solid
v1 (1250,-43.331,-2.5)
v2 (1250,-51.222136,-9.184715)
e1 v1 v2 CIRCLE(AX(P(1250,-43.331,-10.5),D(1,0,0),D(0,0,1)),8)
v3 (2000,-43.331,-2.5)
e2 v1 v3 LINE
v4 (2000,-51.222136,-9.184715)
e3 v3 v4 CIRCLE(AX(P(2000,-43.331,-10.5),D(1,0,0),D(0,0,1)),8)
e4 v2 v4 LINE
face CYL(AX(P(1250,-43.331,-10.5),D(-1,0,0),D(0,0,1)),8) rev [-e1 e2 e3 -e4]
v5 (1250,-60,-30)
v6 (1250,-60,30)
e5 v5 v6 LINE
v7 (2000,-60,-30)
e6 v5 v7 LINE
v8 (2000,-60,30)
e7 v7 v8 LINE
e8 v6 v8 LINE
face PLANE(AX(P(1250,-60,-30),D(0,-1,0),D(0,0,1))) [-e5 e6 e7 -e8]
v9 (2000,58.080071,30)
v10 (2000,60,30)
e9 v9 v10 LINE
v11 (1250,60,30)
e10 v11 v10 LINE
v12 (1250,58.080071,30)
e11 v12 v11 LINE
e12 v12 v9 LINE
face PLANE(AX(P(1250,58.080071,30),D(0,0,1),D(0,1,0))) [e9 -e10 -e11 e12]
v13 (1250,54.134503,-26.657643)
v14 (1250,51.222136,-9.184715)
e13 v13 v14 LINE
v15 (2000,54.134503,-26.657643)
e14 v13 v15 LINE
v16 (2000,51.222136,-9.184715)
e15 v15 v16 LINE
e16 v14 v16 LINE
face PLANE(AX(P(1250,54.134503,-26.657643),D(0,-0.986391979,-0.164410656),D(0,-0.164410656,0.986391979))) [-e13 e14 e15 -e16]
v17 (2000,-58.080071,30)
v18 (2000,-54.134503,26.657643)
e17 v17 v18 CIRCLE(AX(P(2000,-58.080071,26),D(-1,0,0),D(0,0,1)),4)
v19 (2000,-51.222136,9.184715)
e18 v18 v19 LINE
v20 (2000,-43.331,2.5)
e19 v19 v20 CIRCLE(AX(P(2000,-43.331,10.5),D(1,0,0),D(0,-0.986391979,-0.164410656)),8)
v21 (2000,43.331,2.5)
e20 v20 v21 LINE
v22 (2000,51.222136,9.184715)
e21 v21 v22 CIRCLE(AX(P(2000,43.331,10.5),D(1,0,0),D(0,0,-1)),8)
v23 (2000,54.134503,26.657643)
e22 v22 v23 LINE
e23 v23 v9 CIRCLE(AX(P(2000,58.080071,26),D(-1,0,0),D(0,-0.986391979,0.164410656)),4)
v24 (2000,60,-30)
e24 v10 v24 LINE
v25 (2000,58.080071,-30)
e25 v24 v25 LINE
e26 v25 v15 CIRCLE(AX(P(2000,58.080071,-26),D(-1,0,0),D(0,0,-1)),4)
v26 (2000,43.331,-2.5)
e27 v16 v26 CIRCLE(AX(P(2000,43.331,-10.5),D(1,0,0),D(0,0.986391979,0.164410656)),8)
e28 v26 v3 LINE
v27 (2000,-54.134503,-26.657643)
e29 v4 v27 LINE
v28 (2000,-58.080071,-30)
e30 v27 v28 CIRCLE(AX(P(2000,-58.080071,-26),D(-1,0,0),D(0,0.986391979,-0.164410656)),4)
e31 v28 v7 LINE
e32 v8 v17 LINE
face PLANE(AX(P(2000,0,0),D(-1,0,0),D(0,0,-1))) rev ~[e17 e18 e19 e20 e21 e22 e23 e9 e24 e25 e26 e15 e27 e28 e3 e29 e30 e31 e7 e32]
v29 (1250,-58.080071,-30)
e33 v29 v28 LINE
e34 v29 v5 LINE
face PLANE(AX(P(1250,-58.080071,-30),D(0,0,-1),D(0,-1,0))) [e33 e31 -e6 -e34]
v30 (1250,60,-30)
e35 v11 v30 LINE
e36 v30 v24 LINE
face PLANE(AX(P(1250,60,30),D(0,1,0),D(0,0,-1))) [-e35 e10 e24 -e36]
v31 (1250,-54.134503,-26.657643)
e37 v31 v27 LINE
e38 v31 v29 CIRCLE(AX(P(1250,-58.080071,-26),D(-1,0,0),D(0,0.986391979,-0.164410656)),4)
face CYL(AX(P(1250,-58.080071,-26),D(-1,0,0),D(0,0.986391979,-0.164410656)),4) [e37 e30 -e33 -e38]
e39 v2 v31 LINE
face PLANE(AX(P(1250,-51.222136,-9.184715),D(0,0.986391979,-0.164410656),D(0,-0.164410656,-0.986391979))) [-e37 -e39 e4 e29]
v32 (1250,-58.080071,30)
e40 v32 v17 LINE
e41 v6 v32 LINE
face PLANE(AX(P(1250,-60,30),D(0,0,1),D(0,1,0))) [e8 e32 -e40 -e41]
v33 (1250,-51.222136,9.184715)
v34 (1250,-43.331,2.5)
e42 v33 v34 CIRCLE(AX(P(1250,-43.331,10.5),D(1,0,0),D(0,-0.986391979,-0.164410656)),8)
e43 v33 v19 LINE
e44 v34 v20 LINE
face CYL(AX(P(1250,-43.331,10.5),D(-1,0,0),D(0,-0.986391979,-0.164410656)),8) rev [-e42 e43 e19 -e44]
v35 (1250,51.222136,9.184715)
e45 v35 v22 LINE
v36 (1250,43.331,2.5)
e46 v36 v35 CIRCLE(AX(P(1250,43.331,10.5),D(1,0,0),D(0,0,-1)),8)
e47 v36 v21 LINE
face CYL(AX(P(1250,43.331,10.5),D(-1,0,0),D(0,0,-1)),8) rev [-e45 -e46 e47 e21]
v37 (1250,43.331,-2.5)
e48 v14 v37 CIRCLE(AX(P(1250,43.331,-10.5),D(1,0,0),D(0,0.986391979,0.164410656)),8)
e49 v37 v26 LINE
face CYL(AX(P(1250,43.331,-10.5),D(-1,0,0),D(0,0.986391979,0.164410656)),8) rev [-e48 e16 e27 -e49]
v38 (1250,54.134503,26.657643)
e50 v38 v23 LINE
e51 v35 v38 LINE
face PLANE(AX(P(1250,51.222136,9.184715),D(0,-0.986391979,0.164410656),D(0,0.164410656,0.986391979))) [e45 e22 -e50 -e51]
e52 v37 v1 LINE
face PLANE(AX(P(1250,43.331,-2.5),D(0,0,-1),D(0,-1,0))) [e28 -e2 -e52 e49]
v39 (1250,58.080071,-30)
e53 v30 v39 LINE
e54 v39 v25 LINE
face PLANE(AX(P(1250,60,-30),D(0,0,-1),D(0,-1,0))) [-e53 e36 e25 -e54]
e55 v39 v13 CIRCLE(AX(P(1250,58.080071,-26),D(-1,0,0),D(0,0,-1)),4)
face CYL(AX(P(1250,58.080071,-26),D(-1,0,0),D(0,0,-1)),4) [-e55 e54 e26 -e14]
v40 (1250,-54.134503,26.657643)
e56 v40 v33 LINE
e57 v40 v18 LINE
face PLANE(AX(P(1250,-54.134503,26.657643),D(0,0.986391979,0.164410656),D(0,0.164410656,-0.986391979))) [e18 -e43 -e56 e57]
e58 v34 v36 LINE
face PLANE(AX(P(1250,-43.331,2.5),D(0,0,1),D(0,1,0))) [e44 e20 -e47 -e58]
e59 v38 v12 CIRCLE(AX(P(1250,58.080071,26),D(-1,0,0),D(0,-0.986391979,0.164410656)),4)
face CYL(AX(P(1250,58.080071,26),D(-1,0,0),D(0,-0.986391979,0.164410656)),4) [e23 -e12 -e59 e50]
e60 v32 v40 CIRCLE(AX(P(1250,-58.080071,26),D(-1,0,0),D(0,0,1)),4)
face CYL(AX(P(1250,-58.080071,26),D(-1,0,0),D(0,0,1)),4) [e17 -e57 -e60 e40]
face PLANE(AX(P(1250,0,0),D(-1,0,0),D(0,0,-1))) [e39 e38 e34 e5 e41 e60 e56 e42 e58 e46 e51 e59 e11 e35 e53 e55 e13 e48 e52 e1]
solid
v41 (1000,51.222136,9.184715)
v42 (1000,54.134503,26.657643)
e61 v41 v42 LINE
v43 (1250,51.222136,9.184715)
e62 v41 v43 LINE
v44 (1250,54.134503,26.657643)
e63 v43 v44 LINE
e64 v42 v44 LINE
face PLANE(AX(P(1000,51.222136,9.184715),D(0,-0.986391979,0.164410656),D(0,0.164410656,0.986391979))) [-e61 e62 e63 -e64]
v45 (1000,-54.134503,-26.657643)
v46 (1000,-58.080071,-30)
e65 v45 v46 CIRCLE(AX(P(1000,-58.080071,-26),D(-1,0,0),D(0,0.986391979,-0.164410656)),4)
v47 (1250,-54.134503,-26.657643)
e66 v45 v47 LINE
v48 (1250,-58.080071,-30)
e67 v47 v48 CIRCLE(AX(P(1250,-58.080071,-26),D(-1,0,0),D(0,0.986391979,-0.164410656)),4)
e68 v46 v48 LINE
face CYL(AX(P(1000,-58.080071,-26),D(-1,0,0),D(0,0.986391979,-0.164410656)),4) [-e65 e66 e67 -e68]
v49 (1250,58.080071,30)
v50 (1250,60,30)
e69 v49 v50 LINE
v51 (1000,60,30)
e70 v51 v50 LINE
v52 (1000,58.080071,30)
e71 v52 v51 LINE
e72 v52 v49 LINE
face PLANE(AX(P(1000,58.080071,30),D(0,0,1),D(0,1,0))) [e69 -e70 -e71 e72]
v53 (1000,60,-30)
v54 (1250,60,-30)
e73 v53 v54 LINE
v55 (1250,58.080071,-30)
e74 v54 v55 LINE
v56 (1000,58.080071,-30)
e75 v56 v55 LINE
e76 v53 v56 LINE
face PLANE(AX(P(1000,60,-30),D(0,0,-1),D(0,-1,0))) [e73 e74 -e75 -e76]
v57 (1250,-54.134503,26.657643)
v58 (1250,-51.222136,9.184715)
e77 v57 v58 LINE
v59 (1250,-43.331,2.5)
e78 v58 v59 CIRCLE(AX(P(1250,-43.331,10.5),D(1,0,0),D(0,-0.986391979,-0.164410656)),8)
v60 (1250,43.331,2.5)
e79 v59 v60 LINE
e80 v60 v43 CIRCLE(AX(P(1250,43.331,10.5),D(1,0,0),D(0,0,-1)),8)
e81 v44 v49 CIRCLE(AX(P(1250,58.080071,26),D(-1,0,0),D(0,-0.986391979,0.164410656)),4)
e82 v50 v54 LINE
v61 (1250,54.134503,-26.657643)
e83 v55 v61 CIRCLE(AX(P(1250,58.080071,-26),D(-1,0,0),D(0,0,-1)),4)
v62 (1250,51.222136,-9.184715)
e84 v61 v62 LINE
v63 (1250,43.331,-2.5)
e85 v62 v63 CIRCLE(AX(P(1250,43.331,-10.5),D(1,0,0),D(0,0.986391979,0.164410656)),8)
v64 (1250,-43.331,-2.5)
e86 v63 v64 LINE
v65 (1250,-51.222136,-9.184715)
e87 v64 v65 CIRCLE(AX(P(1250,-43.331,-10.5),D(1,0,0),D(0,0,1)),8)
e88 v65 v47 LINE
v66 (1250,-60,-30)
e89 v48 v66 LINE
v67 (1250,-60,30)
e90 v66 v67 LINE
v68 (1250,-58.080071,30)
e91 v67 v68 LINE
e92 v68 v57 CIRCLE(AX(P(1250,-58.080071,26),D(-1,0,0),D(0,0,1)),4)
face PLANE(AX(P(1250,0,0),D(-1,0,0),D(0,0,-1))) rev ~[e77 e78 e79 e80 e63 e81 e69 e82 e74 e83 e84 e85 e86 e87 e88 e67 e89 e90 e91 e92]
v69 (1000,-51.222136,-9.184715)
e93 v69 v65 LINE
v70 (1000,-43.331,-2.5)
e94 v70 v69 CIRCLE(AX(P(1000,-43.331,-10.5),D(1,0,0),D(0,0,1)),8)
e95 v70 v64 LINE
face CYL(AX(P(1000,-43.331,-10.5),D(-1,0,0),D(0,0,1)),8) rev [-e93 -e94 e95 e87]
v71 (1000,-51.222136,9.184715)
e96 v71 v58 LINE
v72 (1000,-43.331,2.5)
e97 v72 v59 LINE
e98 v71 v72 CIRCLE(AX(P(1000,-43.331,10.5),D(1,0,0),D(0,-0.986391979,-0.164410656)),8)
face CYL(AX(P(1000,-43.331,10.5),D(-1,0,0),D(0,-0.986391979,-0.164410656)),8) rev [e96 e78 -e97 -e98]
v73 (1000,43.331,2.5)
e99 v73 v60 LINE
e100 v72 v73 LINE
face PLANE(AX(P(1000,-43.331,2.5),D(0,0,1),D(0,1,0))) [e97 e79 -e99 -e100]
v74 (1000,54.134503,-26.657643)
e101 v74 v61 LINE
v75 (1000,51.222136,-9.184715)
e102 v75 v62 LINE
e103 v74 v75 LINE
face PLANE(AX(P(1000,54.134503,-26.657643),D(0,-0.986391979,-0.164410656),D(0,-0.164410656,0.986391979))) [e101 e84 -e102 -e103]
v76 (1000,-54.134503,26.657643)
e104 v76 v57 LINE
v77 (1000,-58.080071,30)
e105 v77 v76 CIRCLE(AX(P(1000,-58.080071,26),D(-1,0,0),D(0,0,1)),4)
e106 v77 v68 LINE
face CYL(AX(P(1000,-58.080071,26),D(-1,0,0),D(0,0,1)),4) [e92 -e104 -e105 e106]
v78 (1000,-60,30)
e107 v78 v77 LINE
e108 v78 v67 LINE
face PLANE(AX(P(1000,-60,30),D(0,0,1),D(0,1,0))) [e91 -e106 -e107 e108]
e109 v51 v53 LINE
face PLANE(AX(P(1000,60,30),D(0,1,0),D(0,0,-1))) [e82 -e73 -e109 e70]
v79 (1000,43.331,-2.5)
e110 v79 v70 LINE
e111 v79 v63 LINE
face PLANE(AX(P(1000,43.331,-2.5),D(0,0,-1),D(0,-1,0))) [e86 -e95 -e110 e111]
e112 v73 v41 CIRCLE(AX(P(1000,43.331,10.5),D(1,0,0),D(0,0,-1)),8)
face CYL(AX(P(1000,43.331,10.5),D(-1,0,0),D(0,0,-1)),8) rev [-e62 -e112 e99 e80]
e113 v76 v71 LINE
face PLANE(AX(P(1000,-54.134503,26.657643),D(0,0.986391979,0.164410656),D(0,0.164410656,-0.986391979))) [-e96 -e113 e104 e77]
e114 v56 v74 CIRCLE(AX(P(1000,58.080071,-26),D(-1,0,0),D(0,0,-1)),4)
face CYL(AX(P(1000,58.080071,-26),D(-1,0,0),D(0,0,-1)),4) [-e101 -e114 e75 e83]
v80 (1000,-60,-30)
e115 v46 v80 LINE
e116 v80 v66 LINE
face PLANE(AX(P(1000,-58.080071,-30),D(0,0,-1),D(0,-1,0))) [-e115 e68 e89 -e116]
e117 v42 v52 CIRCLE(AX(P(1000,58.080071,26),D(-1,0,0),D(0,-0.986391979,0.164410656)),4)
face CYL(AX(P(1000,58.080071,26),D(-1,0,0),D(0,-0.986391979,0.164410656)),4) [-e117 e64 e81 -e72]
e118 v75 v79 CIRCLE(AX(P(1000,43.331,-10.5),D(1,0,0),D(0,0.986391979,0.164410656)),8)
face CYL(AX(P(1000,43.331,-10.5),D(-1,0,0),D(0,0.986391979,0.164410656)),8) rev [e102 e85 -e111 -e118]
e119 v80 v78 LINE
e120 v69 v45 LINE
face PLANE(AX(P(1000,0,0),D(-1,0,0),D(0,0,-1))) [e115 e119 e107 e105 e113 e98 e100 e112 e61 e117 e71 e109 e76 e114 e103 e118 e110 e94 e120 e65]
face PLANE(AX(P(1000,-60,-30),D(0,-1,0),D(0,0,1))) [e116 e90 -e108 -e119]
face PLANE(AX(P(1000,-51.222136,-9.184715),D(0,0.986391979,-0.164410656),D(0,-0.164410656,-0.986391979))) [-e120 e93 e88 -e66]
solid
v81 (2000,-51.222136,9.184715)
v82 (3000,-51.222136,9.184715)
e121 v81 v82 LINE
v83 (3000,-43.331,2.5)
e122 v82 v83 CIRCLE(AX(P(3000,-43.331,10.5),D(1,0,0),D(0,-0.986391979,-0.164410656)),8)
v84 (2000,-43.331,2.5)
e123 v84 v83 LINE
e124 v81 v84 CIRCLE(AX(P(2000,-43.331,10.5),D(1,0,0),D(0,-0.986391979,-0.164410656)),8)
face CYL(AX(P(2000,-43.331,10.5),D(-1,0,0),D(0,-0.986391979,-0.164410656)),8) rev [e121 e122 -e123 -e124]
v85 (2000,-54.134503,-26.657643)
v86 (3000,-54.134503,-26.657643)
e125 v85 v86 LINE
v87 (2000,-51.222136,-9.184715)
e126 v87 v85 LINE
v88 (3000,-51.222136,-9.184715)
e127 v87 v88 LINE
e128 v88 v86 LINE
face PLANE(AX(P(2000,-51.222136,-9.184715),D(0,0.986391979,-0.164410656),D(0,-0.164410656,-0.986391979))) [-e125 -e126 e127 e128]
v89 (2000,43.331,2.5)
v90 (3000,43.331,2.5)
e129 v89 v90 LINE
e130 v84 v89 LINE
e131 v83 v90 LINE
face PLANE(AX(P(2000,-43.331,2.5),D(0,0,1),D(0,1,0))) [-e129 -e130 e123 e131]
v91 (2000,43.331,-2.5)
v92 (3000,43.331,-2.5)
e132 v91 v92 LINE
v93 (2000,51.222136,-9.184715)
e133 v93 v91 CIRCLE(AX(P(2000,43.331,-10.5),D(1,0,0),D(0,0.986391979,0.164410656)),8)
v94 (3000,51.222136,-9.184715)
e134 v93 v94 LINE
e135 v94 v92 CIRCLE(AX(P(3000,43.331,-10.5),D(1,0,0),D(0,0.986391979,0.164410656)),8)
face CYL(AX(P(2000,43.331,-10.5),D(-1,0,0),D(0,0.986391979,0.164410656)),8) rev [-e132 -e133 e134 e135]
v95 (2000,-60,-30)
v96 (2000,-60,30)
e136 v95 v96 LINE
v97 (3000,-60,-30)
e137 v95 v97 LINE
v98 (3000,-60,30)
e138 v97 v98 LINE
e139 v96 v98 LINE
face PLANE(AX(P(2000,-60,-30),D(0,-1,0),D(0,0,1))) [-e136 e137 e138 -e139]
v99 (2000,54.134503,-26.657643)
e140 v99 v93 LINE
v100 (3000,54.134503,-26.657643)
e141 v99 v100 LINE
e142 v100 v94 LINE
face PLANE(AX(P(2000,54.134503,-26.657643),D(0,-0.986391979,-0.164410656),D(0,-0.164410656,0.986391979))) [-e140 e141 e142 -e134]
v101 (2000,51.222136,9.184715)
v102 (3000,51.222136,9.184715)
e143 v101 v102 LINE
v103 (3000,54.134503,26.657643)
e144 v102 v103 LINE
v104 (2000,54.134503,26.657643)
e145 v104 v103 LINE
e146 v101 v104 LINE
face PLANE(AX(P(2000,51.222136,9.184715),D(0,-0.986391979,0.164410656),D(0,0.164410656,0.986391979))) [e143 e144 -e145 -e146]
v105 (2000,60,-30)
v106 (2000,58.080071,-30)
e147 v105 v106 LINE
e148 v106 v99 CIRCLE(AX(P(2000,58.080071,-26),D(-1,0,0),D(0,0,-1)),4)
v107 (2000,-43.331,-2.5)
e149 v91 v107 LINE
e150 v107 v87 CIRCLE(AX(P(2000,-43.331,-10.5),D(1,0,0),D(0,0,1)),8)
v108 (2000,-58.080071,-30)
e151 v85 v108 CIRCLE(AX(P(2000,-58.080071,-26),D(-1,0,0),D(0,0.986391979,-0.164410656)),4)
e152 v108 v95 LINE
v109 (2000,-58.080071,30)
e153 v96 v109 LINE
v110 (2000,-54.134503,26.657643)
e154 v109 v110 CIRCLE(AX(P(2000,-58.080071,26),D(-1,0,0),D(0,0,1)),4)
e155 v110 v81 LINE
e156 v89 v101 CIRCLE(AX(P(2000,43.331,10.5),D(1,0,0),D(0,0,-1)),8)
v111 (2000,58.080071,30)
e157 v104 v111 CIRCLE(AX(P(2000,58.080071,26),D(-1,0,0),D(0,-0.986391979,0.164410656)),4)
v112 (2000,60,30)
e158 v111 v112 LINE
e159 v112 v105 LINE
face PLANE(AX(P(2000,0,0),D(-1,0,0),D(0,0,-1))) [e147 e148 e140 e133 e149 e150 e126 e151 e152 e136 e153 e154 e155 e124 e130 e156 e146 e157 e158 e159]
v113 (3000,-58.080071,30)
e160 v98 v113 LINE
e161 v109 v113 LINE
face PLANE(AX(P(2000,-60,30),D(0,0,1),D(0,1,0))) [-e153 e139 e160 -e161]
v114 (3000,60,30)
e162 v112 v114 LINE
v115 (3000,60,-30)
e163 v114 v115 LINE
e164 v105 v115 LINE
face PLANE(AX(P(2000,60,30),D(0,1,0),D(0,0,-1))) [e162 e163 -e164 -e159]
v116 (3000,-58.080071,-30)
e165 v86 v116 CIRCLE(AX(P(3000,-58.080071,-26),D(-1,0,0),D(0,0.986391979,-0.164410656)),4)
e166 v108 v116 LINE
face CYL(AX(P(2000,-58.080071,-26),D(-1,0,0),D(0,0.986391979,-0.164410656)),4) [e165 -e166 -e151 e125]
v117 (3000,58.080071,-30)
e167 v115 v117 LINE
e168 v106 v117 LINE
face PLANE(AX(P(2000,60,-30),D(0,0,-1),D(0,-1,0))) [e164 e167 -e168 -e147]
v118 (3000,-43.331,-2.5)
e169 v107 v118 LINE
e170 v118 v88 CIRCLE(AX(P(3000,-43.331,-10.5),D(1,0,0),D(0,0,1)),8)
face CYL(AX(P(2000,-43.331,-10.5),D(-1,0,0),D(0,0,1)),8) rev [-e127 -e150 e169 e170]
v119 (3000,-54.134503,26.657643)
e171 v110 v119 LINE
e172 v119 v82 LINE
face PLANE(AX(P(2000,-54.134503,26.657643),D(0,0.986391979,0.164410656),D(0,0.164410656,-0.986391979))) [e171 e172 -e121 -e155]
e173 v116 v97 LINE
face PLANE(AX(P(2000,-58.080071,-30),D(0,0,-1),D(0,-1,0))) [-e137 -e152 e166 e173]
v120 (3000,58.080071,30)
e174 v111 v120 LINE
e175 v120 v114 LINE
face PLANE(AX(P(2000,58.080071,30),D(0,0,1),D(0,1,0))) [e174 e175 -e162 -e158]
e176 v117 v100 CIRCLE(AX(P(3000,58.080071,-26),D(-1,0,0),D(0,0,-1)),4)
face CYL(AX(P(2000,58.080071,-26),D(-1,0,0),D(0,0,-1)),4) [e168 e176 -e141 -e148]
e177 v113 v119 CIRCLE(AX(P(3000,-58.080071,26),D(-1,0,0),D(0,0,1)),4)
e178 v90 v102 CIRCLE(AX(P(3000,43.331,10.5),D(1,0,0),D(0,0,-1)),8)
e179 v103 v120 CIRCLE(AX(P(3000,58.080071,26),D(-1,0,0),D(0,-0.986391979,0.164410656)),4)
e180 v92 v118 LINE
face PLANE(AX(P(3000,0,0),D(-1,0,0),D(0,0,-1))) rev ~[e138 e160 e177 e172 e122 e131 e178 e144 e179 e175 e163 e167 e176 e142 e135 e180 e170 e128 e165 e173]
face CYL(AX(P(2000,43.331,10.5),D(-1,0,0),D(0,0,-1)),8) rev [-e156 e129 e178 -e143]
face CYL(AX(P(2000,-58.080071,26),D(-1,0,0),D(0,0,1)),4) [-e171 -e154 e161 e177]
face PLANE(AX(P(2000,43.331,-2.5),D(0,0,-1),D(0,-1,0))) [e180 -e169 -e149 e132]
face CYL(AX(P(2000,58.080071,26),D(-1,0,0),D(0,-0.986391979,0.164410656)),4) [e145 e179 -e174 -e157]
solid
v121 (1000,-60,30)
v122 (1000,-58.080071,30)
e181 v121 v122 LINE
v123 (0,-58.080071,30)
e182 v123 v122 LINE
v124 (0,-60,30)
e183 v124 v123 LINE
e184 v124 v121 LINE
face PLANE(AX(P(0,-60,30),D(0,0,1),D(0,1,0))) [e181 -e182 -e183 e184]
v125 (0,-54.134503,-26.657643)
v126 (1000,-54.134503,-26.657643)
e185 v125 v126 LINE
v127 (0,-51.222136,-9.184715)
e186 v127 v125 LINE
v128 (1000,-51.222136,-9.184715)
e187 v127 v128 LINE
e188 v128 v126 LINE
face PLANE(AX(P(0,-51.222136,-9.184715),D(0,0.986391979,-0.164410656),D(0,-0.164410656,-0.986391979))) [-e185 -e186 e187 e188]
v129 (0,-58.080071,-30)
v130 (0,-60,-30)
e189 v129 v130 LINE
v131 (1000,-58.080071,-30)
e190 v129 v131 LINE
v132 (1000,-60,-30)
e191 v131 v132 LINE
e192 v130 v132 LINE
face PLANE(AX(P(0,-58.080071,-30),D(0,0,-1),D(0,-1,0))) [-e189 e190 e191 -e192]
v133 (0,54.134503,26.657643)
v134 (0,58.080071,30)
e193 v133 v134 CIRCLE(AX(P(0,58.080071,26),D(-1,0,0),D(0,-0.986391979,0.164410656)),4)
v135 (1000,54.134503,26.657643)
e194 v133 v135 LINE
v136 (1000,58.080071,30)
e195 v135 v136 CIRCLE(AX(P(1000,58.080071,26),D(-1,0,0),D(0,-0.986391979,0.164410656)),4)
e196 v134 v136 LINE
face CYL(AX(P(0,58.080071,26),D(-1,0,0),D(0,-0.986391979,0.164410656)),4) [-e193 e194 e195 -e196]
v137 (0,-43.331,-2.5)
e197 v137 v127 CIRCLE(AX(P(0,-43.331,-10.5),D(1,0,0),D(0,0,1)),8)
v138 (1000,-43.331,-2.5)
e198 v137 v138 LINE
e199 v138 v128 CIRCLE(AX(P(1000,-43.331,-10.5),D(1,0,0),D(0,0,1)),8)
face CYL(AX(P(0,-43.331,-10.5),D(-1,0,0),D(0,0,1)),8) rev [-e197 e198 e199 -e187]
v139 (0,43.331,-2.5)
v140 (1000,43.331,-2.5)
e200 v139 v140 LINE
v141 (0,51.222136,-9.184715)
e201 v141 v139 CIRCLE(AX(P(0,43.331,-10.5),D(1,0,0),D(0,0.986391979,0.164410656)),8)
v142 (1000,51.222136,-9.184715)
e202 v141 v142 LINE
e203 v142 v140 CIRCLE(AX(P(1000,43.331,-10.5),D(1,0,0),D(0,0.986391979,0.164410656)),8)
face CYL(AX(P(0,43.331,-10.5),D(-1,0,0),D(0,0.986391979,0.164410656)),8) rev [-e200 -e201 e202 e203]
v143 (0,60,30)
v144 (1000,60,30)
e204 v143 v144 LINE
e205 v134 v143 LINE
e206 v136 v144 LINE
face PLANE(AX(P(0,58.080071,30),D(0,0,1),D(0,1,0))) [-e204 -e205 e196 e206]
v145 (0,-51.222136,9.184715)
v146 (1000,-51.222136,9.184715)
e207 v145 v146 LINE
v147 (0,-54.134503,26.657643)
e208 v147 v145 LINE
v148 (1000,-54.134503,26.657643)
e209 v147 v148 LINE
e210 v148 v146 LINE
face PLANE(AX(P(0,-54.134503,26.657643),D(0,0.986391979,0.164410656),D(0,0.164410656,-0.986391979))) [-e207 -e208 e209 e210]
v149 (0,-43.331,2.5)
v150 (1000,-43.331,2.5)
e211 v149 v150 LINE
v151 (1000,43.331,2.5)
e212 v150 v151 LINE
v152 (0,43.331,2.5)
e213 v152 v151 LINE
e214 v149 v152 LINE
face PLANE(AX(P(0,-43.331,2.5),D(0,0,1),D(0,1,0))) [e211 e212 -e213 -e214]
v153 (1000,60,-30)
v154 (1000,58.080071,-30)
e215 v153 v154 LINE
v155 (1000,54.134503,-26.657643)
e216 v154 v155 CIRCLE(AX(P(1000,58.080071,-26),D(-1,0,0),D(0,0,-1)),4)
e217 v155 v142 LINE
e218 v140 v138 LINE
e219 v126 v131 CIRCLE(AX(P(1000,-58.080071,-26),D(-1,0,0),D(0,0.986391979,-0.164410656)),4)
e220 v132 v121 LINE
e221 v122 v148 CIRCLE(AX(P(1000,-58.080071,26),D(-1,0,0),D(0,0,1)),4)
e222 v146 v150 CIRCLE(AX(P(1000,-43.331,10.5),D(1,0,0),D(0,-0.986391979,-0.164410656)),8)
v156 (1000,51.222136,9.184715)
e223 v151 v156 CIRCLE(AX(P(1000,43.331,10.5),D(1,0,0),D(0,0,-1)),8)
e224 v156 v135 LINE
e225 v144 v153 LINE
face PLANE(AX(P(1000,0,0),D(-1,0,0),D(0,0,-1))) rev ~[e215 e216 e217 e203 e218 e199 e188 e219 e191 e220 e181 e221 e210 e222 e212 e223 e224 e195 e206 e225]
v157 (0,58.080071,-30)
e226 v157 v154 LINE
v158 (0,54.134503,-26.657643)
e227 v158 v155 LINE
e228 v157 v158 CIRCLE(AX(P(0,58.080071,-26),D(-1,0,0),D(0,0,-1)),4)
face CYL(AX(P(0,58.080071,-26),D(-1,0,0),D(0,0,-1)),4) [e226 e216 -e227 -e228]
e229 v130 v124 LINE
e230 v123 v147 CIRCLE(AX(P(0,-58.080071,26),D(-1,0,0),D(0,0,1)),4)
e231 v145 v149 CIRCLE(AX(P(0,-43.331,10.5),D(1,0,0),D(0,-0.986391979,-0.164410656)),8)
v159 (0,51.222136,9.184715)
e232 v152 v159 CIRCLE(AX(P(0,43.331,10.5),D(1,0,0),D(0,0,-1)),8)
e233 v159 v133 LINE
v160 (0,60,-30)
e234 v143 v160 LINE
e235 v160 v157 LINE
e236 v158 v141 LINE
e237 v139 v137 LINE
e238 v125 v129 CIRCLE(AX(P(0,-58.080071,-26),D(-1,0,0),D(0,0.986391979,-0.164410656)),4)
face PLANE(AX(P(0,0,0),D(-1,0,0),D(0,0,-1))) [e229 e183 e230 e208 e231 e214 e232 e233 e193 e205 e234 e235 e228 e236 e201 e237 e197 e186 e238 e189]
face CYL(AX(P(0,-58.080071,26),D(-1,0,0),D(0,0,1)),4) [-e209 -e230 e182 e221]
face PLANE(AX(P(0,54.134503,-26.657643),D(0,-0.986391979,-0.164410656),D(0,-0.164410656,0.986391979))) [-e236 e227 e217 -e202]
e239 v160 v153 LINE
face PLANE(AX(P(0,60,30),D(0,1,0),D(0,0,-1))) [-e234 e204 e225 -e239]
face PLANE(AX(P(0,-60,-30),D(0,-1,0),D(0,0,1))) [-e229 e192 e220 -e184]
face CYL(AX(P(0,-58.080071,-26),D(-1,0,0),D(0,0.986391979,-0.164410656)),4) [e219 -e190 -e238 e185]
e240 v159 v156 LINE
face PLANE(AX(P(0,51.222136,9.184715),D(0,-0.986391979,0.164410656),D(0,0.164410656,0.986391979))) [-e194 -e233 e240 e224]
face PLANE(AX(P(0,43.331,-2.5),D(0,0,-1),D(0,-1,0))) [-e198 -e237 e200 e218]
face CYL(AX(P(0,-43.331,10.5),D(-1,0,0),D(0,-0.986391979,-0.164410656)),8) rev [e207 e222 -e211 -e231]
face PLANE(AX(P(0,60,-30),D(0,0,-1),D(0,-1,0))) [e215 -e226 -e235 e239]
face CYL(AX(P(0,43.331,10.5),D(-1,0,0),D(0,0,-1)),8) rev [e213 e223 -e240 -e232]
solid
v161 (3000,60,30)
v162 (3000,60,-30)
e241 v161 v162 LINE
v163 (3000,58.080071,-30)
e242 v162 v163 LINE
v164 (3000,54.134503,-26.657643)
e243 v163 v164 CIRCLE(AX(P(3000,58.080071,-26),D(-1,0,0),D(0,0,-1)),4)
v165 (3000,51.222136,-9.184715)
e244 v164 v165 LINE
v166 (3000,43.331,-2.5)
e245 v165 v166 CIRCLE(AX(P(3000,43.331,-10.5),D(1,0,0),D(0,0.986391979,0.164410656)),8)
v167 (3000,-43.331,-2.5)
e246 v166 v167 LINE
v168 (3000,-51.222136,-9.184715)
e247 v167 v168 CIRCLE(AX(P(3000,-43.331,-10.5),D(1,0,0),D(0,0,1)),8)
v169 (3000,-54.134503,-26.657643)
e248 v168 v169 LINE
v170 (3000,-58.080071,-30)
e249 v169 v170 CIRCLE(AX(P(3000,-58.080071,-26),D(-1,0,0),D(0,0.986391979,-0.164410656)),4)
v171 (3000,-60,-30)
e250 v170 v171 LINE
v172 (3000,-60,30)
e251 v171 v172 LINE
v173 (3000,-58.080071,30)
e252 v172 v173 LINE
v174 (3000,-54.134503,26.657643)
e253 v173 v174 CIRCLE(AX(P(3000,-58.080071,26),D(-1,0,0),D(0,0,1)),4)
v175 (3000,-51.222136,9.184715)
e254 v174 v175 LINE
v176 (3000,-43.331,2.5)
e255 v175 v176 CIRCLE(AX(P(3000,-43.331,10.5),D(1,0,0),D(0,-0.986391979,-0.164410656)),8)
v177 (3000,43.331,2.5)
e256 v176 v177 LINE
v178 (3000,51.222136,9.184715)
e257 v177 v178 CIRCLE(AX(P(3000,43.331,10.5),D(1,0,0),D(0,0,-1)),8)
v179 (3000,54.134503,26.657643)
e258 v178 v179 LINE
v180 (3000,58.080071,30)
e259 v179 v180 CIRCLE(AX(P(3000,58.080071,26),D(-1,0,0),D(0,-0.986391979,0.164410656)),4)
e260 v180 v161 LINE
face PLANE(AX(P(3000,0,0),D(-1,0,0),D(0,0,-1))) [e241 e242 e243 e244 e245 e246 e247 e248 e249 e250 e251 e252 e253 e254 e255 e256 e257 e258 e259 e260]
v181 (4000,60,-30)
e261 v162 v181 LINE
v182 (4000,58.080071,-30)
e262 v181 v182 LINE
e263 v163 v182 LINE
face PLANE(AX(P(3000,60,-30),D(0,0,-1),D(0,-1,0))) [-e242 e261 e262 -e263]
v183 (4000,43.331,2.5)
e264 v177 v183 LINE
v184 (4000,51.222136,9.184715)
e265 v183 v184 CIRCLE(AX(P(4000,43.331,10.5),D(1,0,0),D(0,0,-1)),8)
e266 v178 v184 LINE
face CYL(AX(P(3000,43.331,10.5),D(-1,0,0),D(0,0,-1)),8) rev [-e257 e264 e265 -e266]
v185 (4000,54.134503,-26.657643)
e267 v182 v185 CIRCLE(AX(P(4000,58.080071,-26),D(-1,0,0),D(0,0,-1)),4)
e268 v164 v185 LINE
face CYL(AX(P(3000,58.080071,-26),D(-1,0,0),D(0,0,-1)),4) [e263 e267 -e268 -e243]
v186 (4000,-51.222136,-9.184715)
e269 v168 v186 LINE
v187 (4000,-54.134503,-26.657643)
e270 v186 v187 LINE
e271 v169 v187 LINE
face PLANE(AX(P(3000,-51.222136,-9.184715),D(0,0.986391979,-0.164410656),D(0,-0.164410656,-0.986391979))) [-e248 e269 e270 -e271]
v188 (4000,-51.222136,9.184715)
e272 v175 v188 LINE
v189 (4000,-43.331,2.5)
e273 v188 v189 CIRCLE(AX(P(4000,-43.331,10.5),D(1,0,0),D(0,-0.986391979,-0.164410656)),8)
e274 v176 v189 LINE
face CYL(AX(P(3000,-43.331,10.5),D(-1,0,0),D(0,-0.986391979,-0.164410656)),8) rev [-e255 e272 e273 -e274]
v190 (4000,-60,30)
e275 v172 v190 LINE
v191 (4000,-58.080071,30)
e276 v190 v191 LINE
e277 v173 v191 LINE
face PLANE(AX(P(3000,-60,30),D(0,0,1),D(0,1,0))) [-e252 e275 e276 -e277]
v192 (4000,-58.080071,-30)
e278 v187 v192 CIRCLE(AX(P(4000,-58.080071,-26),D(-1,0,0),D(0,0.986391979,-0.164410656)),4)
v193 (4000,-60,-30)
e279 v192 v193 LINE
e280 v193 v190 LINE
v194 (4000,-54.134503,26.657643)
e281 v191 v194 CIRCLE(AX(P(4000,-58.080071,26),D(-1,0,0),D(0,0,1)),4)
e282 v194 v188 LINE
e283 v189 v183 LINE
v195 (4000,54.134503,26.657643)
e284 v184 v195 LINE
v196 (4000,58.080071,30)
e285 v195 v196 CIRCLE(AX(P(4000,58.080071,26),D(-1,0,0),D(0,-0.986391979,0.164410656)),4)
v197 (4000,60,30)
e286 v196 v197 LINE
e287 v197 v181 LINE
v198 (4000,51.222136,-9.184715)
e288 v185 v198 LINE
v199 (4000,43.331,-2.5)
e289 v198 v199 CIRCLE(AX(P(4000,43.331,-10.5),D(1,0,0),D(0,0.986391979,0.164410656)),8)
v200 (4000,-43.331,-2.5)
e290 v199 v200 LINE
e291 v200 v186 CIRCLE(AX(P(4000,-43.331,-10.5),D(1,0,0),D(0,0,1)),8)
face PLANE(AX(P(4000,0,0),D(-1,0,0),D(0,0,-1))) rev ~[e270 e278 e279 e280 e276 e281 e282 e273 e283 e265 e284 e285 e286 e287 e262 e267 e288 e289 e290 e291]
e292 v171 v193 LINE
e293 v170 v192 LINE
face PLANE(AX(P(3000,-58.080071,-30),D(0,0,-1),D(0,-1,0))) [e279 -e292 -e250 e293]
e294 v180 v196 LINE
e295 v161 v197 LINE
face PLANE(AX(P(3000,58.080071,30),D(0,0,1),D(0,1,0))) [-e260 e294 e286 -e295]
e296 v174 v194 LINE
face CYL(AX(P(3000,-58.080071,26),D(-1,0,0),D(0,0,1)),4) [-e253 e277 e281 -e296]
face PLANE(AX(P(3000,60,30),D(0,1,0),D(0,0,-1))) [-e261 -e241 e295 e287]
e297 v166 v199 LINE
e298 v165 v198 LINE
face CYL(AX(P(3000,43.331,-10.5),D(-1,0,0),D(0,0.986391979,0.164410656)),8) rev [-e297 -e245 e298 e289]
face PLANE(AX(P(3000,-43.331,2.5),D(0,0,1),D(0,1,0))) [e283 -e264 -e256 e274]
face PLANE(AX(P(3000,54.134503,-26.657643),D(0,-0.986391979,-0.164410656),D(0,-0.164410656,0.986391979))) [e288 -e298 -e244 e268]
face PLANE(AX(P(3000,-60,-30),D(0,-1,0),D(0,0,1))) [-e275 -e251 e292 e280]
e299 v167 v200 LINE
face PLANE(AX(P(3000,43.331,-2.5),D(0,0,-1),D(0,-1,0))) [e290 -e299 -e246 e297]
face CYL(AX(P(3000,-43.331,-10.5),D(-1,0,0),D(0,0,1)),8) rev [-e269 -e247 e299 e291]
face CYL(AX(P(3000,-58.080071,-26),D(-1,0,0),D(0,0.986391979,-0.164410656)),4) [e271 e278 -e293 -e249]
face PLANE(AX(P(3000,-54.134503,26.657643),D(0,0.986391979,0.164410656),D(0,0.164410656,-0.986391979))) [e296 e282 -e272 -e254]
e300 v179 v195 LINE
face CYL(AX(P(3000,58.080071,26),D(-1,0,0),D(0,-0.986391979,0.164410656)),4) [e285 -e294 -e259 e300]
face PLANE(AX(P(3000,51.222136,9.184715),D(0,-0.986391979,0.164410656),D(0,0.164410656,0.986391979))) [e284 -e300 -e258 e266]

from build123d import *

# Parameters (mm, degrees)
SB_BEAM_120_X_12_1_DEPTH   = 1000
SB_BEAM_120_X_12_1_2_DEPTH = 250
SB_BEAM_120_X_12_1_3_DEPTH = 750
SB_BEAM_120_X_12_1_4_DEPTH = 1000
SB_BEAM_120_X_12_1_5_DEPTH = 1000


with BuildPart() as part:
    # Sketch11 → Sb beam 120 X 12(1) (new body)
    with BuildSketch(Plane(origin=(0, 0, 0), x_dir=(0, 0, 1), z_dir=(1, 0, 0))):
        with BuildLine():
            Line((-30, -60), (-30, -58.080070835))
            ThreePointArc((-30, -58.080070835), (-29.052095223, -55.494589303), (-26.657642624, -54.134502919))
            Line((-26.657642624, -54.134502919), (-9.184714752, -51.222135832))
            ThreePointArc((-9.184714752, -51.222135832), (-4.395809555, -48.501963064), (-2.5, -43.331))
            Line((-2.5, -43.331), (-2.5, 43.331))
            ThreePointArc((-2.5, 43.331), (-4.395809555, 48.501963064), (-9.184714752, 51.222135832))
            Line((-9.184714752, 51.222135832), (-26.657642624, 54.134502919))
            ThreePointArc((-26.657642624, 54.134502919), (-29.052095223, 55.494589303), (-30, 58.080070835))
            Line((-30, 58.080070835), (-30, 60))
            Line((-30, 60), (30, 60))
            Line((30, 60), (30, 58.080070835))
            ThreePointArc((30, 58.080070835), (29.052095223, 55.494589303), (26.657642624, 54.134502919))
            Line((26.657642624, 54.134502919), (9.184714752, 51.222135832))
            ThreePointArc((9.184714752, 51.222135832), (4.395809555, 48.501963064), (2.5, 43.331))
            Line((2.5, 43.331), (2.5, -43.331))
            ThreePointArc((2.5, -43.331), (4.395809555, -48.501963064), (9.184714752, -51.222135832))
            Line((9.184714752, -51.222135832), (26.657642624, -54.134502919))
            ThreePointArc((26.657642624, -54.134502919), (29.052095223, -55.494589303), (30, -58.080070835))
            Line((30, -58.080070835), (30, -60))
            Line((30, -60), (-30, -60))
        make_face()
    extrude(amount=SB_BEAM_120_X_12_1_DEPTH)


with BuildPart() as body_2:
    # Sketch11 on segment 2 (carried to segment 2) → Sb beam 120 X 12_1 2 (new body)
    with BuildSketch(Plane(origin=(1000, 0, 0), x_dir=(0, 0, 1), z_dir=(1, 0, 0))):
        with BuildLine():
            Line((-30, -60), (-30, -58.080070835))
            ThreePointArc((-30, -58.080070835), (-29.052095223, -55.494589303), (-26.657642624, -54.134502919))
            Line((-26.657642624, -54.134502919), (-9.184714752, -51.222135832))
            ThreePointArc((-9.184714752, -51.222135832), (-4.395809555, -48.501963064), (-2.5, -43.331))
            Line((-2.5, -43.331), (-2.5, 43.331))
            ThreePointArc((-2.5, 43.331), (-4.395809555, 48.501963064), (-9.184714752, 51.222135832))
            Line((-9.184714752, 51.222135832), (-26.657642624, 54.134502919))
            ThreePointArc((-26.657642624, 54.134502919), (-29.052095223, 55.494589303), (-30, 58.080070835))
            Line((-30, 58.080070835), (-30, 60))
            Line((-30, 60), (30, 60))
            Line((30, 60), (30, 58.080070835))
            ThreePointArc((30, 58.080070835), (29.052095223, 55.494589303), (26.657642624, 54.134502919))
            Line((26.657642624, 54.134502919), (9.184714752, 51.222135832))
            ThreePointArc((9.184714752, 51.222135832), (4.395809555, 48.501963064), (2.5, 43.331))
            Line((2.5, 43.331), (2.5, -43.331))
            ThreePointArc((2.5, -43.331), (4.395809555, -48.501963064), (9.184714752, -51.222135832))
            Line((9.184714752, -51.222135832), (26.657642624, -54.134502919))
            ThreePointArc((26.657642624, -54.134502919), (29.052095223, -55.494589303), (30, -58.080070835))
            Line((30, -58.080070835), (30, -60))
            Line((30, -60), (-30, -60))
        make_face()
    extrude(amount=SB_BEAM_120_X_12_1_2_DEPTH)


with BuildPart() as body_3:
    # Sketch11 on segment 3 (carried to segment 3) → Sb beam 120 X 12_1 3 (new body)
    with BuildSketch(Plane(origin=(1250, 0, 0), x_dir=(0, 0, 1), z_dir=(1, 0, 0))):
        with BuildLine():
            Line((-30, -60), (-30, -58.080070835))
            ThreePointArc((-30, -58.080070835), (-29.052095223, -55.494589303), (-26.657642624, -54.134502919))
            Line((-26.657642624, -54.134502919), (-9.184714752, -51.222135832))
            ThreePointArc((-9.184714752, -51.222135832), (-4.395809555, -48.501963064), (-2.5, -43.331))
            Line((-2.5, -43.331), (-2.5, 43.331))
            ThreePointArc((-2.5, 43.331), (-4.395809555, 48.501963064), (-9.184714752, 51.222135832))
            Line((-9.184714752, 51.222135832), (-26.657642624, 54.134502919))
            ThreePointArc((-26.657642624, 54.134502919), (-29.052095223, 55.494589303), (-30, 58.080070835))
            Line((-30, 58.080070835), (-30, 60))
            Line((-30, 60), (30, 60))
            Line((30, 60), (30, 58.080070835))
            ThreePointArc((30, 58.080070835), (29.052095223, 55.494589303), (26.657642624, 54.134502919))
            Line((26.657642624, 54.134502919), (9.184714752, 51.222135832))
            ThreePointArc((9.184714752, 51.222135832), (4.395809555, 48.501963064), (2.5, 43.331))
            Line((2.5, 43.331), (2.5, -43.331))
            ThreePointArc((2.5, -43.331), (4.395809555, -48.501963064), (9.184714752, -51.222135832))
            Line((9.184714752, -51.222135832), (26.657642624, -54.134502919))
            ThreePointArc((26.657642624, -54.134502919), (29.052095223, -55.494589303), (30, -58.080070835))
            Line((30, -58.080070835), (30, -60))
            Line((30, -60), (-30, -60))
        make_face()
    extrude(amount=SB_BEAM_120_X_12_1_3_DEPTH)


with BuildPart() as body_4:
    # Sketch11 on segment 4 (carried to segment 4) → Sb beam 120 X 12_1 4 (new body)
    with BuildSketch(Plane(origin=(2000, 0, 0), x_dir=(0, 0, 1), z_dir=(1, 0, 0))):
        with BuildLine():
            Line((-30, -60), (-30, -58.080070835))
            ThreePointArc((-30, -58.080070835), (-29.052095223, -55.494589303), (-26.657642624, -54.134502919))
            Line((-26.657642624, -54.134502919), (-9.184714752, -51.222135832))
            ThreePointArc((-9.184714752, -51.222135832), (-4.395809555, -48.501963064), (-2.5, -43.331))
            Line((-2.5, -43.331), (-2.5, 43.331))
            ThreePointArc((-2.5, 43.331), (-4.395809555, 48.501963064), (-9.184714752, 51.222135832))
            Line((-9.184714752, 51.222135832), (-26.657642624, 54.134502919))
            ThreePointArc((-26.657642624, 54.134502919), (-29.052095223, 55.494589303), (-30, 58.080070835))
            Line((-30, 58.080070835), (-30, 60))
            Line((-30, 60), (30, 60))
            Line((30, 60), (30, 58.080070835))
            ThreePointArc((30, 58.080070835), (29.052095223, 55.494589303), (26.657642624, 54.134502919))
            Line((26.657642624, 54.134502919), (9.184714752, 51.222135832))
            ThreePointArc((9.184714752, 51.222135832), (4.395809555, 48.501963064), (2.5, 43.331))
            Line((2.5, 43.331), (2.5, -43.331))
            ThreePointArc((2.5, -43.331), (4.395809555, -48.501963064), (9.184714752, -51.222135832))
            Line((9.184714752, -51.222135832), (26.657642624, -54.134502919))
            ThreePointArc((26.657642624, -54.134502919), (29.052095223, -55.494589303), (30, -58.080070835))
            Line((30, -58.080070835), (30, -60))
            Line((30, -60), (-30, -60))
        make_face()
    extrude(amount=SB_BEAM_120_X_12_1_4_DEPTH)


with BuildPart() as body_5:
    # Sketch11 on segment 5 (carried to segment 5) → Sb beam 120 X 12_1 5 (new body)
    with BuildSketch(Plane(origin=(3000, 0, 0), x_dir=(0, 0, 1), z_dir=(1, 0, 0))):
        with BuildLine():
            Line((-30, -60), (-30, -58.080070835))
            ThreePointArc((-30, -58.080070835), (-29.052095223, -55.494589303), (-26.657642624, -54.134502919))
            Line((-26.657642624, -54.134502919), (-9.184714752, -51.222135832))
            ThreePointArc((-9.184714752, -51.222135832), (-4.395809555, -48.501963064), (-2.5, -43.331))
            Line((-2.5, -43.331), (-2.5, 43.331))
            ThreePointArc((-2.5, 43.331), (-4.395809555, 48.501963064), (-9.184714752, 51.222135832))
            Line((-9.184714752, 51.222135832), (-26.657642624, 54.134502919))
            ThreePointArc((-26.657642624, 54.134502919), (-29.052095223, 55.494589303), (-30, 58.080070835))
            Line((-30, 58.080070835), (-30, 60))
            Line((-30, 60), (30, 60))
            Line((30, 60), (30, 58.080070835))
            ThreePointArc((30, 58.080070835), (29.052095223, 55.494589303), (26.657642624, 54.134502919))
            Line((26.657642624, 54.134502919), (9.184714752, 51.222135832))
            ThreePointArc((9.184714752, 51.222135832), (4.395809555, 48.501963064), (2.5, 43.331))
            Line((2.5, 43.331), (2.5, -43.331))
            ThreePointArc((2.5, -43.331), (4.395809555, -48.501963064), (9.184714752, -51.222135832))
            Line((9.184714752, -51.222135832), (26.657642624, -54.134502919))
            ThreePointArc((26.657642624, -54.134502919), (29.052095223, -55.494589303), (30, -58.080070835))
            Line((30, -58.080070835), (30, -60))
            Line((30, -60), (-30, -60))
        make_face()
    extrude(amount=SB_BEAM_120_X_12_1_5_DEPTH)


solid = Compound([part.part, body_2.part, body_3.part, body_4.part, body_5.part])
